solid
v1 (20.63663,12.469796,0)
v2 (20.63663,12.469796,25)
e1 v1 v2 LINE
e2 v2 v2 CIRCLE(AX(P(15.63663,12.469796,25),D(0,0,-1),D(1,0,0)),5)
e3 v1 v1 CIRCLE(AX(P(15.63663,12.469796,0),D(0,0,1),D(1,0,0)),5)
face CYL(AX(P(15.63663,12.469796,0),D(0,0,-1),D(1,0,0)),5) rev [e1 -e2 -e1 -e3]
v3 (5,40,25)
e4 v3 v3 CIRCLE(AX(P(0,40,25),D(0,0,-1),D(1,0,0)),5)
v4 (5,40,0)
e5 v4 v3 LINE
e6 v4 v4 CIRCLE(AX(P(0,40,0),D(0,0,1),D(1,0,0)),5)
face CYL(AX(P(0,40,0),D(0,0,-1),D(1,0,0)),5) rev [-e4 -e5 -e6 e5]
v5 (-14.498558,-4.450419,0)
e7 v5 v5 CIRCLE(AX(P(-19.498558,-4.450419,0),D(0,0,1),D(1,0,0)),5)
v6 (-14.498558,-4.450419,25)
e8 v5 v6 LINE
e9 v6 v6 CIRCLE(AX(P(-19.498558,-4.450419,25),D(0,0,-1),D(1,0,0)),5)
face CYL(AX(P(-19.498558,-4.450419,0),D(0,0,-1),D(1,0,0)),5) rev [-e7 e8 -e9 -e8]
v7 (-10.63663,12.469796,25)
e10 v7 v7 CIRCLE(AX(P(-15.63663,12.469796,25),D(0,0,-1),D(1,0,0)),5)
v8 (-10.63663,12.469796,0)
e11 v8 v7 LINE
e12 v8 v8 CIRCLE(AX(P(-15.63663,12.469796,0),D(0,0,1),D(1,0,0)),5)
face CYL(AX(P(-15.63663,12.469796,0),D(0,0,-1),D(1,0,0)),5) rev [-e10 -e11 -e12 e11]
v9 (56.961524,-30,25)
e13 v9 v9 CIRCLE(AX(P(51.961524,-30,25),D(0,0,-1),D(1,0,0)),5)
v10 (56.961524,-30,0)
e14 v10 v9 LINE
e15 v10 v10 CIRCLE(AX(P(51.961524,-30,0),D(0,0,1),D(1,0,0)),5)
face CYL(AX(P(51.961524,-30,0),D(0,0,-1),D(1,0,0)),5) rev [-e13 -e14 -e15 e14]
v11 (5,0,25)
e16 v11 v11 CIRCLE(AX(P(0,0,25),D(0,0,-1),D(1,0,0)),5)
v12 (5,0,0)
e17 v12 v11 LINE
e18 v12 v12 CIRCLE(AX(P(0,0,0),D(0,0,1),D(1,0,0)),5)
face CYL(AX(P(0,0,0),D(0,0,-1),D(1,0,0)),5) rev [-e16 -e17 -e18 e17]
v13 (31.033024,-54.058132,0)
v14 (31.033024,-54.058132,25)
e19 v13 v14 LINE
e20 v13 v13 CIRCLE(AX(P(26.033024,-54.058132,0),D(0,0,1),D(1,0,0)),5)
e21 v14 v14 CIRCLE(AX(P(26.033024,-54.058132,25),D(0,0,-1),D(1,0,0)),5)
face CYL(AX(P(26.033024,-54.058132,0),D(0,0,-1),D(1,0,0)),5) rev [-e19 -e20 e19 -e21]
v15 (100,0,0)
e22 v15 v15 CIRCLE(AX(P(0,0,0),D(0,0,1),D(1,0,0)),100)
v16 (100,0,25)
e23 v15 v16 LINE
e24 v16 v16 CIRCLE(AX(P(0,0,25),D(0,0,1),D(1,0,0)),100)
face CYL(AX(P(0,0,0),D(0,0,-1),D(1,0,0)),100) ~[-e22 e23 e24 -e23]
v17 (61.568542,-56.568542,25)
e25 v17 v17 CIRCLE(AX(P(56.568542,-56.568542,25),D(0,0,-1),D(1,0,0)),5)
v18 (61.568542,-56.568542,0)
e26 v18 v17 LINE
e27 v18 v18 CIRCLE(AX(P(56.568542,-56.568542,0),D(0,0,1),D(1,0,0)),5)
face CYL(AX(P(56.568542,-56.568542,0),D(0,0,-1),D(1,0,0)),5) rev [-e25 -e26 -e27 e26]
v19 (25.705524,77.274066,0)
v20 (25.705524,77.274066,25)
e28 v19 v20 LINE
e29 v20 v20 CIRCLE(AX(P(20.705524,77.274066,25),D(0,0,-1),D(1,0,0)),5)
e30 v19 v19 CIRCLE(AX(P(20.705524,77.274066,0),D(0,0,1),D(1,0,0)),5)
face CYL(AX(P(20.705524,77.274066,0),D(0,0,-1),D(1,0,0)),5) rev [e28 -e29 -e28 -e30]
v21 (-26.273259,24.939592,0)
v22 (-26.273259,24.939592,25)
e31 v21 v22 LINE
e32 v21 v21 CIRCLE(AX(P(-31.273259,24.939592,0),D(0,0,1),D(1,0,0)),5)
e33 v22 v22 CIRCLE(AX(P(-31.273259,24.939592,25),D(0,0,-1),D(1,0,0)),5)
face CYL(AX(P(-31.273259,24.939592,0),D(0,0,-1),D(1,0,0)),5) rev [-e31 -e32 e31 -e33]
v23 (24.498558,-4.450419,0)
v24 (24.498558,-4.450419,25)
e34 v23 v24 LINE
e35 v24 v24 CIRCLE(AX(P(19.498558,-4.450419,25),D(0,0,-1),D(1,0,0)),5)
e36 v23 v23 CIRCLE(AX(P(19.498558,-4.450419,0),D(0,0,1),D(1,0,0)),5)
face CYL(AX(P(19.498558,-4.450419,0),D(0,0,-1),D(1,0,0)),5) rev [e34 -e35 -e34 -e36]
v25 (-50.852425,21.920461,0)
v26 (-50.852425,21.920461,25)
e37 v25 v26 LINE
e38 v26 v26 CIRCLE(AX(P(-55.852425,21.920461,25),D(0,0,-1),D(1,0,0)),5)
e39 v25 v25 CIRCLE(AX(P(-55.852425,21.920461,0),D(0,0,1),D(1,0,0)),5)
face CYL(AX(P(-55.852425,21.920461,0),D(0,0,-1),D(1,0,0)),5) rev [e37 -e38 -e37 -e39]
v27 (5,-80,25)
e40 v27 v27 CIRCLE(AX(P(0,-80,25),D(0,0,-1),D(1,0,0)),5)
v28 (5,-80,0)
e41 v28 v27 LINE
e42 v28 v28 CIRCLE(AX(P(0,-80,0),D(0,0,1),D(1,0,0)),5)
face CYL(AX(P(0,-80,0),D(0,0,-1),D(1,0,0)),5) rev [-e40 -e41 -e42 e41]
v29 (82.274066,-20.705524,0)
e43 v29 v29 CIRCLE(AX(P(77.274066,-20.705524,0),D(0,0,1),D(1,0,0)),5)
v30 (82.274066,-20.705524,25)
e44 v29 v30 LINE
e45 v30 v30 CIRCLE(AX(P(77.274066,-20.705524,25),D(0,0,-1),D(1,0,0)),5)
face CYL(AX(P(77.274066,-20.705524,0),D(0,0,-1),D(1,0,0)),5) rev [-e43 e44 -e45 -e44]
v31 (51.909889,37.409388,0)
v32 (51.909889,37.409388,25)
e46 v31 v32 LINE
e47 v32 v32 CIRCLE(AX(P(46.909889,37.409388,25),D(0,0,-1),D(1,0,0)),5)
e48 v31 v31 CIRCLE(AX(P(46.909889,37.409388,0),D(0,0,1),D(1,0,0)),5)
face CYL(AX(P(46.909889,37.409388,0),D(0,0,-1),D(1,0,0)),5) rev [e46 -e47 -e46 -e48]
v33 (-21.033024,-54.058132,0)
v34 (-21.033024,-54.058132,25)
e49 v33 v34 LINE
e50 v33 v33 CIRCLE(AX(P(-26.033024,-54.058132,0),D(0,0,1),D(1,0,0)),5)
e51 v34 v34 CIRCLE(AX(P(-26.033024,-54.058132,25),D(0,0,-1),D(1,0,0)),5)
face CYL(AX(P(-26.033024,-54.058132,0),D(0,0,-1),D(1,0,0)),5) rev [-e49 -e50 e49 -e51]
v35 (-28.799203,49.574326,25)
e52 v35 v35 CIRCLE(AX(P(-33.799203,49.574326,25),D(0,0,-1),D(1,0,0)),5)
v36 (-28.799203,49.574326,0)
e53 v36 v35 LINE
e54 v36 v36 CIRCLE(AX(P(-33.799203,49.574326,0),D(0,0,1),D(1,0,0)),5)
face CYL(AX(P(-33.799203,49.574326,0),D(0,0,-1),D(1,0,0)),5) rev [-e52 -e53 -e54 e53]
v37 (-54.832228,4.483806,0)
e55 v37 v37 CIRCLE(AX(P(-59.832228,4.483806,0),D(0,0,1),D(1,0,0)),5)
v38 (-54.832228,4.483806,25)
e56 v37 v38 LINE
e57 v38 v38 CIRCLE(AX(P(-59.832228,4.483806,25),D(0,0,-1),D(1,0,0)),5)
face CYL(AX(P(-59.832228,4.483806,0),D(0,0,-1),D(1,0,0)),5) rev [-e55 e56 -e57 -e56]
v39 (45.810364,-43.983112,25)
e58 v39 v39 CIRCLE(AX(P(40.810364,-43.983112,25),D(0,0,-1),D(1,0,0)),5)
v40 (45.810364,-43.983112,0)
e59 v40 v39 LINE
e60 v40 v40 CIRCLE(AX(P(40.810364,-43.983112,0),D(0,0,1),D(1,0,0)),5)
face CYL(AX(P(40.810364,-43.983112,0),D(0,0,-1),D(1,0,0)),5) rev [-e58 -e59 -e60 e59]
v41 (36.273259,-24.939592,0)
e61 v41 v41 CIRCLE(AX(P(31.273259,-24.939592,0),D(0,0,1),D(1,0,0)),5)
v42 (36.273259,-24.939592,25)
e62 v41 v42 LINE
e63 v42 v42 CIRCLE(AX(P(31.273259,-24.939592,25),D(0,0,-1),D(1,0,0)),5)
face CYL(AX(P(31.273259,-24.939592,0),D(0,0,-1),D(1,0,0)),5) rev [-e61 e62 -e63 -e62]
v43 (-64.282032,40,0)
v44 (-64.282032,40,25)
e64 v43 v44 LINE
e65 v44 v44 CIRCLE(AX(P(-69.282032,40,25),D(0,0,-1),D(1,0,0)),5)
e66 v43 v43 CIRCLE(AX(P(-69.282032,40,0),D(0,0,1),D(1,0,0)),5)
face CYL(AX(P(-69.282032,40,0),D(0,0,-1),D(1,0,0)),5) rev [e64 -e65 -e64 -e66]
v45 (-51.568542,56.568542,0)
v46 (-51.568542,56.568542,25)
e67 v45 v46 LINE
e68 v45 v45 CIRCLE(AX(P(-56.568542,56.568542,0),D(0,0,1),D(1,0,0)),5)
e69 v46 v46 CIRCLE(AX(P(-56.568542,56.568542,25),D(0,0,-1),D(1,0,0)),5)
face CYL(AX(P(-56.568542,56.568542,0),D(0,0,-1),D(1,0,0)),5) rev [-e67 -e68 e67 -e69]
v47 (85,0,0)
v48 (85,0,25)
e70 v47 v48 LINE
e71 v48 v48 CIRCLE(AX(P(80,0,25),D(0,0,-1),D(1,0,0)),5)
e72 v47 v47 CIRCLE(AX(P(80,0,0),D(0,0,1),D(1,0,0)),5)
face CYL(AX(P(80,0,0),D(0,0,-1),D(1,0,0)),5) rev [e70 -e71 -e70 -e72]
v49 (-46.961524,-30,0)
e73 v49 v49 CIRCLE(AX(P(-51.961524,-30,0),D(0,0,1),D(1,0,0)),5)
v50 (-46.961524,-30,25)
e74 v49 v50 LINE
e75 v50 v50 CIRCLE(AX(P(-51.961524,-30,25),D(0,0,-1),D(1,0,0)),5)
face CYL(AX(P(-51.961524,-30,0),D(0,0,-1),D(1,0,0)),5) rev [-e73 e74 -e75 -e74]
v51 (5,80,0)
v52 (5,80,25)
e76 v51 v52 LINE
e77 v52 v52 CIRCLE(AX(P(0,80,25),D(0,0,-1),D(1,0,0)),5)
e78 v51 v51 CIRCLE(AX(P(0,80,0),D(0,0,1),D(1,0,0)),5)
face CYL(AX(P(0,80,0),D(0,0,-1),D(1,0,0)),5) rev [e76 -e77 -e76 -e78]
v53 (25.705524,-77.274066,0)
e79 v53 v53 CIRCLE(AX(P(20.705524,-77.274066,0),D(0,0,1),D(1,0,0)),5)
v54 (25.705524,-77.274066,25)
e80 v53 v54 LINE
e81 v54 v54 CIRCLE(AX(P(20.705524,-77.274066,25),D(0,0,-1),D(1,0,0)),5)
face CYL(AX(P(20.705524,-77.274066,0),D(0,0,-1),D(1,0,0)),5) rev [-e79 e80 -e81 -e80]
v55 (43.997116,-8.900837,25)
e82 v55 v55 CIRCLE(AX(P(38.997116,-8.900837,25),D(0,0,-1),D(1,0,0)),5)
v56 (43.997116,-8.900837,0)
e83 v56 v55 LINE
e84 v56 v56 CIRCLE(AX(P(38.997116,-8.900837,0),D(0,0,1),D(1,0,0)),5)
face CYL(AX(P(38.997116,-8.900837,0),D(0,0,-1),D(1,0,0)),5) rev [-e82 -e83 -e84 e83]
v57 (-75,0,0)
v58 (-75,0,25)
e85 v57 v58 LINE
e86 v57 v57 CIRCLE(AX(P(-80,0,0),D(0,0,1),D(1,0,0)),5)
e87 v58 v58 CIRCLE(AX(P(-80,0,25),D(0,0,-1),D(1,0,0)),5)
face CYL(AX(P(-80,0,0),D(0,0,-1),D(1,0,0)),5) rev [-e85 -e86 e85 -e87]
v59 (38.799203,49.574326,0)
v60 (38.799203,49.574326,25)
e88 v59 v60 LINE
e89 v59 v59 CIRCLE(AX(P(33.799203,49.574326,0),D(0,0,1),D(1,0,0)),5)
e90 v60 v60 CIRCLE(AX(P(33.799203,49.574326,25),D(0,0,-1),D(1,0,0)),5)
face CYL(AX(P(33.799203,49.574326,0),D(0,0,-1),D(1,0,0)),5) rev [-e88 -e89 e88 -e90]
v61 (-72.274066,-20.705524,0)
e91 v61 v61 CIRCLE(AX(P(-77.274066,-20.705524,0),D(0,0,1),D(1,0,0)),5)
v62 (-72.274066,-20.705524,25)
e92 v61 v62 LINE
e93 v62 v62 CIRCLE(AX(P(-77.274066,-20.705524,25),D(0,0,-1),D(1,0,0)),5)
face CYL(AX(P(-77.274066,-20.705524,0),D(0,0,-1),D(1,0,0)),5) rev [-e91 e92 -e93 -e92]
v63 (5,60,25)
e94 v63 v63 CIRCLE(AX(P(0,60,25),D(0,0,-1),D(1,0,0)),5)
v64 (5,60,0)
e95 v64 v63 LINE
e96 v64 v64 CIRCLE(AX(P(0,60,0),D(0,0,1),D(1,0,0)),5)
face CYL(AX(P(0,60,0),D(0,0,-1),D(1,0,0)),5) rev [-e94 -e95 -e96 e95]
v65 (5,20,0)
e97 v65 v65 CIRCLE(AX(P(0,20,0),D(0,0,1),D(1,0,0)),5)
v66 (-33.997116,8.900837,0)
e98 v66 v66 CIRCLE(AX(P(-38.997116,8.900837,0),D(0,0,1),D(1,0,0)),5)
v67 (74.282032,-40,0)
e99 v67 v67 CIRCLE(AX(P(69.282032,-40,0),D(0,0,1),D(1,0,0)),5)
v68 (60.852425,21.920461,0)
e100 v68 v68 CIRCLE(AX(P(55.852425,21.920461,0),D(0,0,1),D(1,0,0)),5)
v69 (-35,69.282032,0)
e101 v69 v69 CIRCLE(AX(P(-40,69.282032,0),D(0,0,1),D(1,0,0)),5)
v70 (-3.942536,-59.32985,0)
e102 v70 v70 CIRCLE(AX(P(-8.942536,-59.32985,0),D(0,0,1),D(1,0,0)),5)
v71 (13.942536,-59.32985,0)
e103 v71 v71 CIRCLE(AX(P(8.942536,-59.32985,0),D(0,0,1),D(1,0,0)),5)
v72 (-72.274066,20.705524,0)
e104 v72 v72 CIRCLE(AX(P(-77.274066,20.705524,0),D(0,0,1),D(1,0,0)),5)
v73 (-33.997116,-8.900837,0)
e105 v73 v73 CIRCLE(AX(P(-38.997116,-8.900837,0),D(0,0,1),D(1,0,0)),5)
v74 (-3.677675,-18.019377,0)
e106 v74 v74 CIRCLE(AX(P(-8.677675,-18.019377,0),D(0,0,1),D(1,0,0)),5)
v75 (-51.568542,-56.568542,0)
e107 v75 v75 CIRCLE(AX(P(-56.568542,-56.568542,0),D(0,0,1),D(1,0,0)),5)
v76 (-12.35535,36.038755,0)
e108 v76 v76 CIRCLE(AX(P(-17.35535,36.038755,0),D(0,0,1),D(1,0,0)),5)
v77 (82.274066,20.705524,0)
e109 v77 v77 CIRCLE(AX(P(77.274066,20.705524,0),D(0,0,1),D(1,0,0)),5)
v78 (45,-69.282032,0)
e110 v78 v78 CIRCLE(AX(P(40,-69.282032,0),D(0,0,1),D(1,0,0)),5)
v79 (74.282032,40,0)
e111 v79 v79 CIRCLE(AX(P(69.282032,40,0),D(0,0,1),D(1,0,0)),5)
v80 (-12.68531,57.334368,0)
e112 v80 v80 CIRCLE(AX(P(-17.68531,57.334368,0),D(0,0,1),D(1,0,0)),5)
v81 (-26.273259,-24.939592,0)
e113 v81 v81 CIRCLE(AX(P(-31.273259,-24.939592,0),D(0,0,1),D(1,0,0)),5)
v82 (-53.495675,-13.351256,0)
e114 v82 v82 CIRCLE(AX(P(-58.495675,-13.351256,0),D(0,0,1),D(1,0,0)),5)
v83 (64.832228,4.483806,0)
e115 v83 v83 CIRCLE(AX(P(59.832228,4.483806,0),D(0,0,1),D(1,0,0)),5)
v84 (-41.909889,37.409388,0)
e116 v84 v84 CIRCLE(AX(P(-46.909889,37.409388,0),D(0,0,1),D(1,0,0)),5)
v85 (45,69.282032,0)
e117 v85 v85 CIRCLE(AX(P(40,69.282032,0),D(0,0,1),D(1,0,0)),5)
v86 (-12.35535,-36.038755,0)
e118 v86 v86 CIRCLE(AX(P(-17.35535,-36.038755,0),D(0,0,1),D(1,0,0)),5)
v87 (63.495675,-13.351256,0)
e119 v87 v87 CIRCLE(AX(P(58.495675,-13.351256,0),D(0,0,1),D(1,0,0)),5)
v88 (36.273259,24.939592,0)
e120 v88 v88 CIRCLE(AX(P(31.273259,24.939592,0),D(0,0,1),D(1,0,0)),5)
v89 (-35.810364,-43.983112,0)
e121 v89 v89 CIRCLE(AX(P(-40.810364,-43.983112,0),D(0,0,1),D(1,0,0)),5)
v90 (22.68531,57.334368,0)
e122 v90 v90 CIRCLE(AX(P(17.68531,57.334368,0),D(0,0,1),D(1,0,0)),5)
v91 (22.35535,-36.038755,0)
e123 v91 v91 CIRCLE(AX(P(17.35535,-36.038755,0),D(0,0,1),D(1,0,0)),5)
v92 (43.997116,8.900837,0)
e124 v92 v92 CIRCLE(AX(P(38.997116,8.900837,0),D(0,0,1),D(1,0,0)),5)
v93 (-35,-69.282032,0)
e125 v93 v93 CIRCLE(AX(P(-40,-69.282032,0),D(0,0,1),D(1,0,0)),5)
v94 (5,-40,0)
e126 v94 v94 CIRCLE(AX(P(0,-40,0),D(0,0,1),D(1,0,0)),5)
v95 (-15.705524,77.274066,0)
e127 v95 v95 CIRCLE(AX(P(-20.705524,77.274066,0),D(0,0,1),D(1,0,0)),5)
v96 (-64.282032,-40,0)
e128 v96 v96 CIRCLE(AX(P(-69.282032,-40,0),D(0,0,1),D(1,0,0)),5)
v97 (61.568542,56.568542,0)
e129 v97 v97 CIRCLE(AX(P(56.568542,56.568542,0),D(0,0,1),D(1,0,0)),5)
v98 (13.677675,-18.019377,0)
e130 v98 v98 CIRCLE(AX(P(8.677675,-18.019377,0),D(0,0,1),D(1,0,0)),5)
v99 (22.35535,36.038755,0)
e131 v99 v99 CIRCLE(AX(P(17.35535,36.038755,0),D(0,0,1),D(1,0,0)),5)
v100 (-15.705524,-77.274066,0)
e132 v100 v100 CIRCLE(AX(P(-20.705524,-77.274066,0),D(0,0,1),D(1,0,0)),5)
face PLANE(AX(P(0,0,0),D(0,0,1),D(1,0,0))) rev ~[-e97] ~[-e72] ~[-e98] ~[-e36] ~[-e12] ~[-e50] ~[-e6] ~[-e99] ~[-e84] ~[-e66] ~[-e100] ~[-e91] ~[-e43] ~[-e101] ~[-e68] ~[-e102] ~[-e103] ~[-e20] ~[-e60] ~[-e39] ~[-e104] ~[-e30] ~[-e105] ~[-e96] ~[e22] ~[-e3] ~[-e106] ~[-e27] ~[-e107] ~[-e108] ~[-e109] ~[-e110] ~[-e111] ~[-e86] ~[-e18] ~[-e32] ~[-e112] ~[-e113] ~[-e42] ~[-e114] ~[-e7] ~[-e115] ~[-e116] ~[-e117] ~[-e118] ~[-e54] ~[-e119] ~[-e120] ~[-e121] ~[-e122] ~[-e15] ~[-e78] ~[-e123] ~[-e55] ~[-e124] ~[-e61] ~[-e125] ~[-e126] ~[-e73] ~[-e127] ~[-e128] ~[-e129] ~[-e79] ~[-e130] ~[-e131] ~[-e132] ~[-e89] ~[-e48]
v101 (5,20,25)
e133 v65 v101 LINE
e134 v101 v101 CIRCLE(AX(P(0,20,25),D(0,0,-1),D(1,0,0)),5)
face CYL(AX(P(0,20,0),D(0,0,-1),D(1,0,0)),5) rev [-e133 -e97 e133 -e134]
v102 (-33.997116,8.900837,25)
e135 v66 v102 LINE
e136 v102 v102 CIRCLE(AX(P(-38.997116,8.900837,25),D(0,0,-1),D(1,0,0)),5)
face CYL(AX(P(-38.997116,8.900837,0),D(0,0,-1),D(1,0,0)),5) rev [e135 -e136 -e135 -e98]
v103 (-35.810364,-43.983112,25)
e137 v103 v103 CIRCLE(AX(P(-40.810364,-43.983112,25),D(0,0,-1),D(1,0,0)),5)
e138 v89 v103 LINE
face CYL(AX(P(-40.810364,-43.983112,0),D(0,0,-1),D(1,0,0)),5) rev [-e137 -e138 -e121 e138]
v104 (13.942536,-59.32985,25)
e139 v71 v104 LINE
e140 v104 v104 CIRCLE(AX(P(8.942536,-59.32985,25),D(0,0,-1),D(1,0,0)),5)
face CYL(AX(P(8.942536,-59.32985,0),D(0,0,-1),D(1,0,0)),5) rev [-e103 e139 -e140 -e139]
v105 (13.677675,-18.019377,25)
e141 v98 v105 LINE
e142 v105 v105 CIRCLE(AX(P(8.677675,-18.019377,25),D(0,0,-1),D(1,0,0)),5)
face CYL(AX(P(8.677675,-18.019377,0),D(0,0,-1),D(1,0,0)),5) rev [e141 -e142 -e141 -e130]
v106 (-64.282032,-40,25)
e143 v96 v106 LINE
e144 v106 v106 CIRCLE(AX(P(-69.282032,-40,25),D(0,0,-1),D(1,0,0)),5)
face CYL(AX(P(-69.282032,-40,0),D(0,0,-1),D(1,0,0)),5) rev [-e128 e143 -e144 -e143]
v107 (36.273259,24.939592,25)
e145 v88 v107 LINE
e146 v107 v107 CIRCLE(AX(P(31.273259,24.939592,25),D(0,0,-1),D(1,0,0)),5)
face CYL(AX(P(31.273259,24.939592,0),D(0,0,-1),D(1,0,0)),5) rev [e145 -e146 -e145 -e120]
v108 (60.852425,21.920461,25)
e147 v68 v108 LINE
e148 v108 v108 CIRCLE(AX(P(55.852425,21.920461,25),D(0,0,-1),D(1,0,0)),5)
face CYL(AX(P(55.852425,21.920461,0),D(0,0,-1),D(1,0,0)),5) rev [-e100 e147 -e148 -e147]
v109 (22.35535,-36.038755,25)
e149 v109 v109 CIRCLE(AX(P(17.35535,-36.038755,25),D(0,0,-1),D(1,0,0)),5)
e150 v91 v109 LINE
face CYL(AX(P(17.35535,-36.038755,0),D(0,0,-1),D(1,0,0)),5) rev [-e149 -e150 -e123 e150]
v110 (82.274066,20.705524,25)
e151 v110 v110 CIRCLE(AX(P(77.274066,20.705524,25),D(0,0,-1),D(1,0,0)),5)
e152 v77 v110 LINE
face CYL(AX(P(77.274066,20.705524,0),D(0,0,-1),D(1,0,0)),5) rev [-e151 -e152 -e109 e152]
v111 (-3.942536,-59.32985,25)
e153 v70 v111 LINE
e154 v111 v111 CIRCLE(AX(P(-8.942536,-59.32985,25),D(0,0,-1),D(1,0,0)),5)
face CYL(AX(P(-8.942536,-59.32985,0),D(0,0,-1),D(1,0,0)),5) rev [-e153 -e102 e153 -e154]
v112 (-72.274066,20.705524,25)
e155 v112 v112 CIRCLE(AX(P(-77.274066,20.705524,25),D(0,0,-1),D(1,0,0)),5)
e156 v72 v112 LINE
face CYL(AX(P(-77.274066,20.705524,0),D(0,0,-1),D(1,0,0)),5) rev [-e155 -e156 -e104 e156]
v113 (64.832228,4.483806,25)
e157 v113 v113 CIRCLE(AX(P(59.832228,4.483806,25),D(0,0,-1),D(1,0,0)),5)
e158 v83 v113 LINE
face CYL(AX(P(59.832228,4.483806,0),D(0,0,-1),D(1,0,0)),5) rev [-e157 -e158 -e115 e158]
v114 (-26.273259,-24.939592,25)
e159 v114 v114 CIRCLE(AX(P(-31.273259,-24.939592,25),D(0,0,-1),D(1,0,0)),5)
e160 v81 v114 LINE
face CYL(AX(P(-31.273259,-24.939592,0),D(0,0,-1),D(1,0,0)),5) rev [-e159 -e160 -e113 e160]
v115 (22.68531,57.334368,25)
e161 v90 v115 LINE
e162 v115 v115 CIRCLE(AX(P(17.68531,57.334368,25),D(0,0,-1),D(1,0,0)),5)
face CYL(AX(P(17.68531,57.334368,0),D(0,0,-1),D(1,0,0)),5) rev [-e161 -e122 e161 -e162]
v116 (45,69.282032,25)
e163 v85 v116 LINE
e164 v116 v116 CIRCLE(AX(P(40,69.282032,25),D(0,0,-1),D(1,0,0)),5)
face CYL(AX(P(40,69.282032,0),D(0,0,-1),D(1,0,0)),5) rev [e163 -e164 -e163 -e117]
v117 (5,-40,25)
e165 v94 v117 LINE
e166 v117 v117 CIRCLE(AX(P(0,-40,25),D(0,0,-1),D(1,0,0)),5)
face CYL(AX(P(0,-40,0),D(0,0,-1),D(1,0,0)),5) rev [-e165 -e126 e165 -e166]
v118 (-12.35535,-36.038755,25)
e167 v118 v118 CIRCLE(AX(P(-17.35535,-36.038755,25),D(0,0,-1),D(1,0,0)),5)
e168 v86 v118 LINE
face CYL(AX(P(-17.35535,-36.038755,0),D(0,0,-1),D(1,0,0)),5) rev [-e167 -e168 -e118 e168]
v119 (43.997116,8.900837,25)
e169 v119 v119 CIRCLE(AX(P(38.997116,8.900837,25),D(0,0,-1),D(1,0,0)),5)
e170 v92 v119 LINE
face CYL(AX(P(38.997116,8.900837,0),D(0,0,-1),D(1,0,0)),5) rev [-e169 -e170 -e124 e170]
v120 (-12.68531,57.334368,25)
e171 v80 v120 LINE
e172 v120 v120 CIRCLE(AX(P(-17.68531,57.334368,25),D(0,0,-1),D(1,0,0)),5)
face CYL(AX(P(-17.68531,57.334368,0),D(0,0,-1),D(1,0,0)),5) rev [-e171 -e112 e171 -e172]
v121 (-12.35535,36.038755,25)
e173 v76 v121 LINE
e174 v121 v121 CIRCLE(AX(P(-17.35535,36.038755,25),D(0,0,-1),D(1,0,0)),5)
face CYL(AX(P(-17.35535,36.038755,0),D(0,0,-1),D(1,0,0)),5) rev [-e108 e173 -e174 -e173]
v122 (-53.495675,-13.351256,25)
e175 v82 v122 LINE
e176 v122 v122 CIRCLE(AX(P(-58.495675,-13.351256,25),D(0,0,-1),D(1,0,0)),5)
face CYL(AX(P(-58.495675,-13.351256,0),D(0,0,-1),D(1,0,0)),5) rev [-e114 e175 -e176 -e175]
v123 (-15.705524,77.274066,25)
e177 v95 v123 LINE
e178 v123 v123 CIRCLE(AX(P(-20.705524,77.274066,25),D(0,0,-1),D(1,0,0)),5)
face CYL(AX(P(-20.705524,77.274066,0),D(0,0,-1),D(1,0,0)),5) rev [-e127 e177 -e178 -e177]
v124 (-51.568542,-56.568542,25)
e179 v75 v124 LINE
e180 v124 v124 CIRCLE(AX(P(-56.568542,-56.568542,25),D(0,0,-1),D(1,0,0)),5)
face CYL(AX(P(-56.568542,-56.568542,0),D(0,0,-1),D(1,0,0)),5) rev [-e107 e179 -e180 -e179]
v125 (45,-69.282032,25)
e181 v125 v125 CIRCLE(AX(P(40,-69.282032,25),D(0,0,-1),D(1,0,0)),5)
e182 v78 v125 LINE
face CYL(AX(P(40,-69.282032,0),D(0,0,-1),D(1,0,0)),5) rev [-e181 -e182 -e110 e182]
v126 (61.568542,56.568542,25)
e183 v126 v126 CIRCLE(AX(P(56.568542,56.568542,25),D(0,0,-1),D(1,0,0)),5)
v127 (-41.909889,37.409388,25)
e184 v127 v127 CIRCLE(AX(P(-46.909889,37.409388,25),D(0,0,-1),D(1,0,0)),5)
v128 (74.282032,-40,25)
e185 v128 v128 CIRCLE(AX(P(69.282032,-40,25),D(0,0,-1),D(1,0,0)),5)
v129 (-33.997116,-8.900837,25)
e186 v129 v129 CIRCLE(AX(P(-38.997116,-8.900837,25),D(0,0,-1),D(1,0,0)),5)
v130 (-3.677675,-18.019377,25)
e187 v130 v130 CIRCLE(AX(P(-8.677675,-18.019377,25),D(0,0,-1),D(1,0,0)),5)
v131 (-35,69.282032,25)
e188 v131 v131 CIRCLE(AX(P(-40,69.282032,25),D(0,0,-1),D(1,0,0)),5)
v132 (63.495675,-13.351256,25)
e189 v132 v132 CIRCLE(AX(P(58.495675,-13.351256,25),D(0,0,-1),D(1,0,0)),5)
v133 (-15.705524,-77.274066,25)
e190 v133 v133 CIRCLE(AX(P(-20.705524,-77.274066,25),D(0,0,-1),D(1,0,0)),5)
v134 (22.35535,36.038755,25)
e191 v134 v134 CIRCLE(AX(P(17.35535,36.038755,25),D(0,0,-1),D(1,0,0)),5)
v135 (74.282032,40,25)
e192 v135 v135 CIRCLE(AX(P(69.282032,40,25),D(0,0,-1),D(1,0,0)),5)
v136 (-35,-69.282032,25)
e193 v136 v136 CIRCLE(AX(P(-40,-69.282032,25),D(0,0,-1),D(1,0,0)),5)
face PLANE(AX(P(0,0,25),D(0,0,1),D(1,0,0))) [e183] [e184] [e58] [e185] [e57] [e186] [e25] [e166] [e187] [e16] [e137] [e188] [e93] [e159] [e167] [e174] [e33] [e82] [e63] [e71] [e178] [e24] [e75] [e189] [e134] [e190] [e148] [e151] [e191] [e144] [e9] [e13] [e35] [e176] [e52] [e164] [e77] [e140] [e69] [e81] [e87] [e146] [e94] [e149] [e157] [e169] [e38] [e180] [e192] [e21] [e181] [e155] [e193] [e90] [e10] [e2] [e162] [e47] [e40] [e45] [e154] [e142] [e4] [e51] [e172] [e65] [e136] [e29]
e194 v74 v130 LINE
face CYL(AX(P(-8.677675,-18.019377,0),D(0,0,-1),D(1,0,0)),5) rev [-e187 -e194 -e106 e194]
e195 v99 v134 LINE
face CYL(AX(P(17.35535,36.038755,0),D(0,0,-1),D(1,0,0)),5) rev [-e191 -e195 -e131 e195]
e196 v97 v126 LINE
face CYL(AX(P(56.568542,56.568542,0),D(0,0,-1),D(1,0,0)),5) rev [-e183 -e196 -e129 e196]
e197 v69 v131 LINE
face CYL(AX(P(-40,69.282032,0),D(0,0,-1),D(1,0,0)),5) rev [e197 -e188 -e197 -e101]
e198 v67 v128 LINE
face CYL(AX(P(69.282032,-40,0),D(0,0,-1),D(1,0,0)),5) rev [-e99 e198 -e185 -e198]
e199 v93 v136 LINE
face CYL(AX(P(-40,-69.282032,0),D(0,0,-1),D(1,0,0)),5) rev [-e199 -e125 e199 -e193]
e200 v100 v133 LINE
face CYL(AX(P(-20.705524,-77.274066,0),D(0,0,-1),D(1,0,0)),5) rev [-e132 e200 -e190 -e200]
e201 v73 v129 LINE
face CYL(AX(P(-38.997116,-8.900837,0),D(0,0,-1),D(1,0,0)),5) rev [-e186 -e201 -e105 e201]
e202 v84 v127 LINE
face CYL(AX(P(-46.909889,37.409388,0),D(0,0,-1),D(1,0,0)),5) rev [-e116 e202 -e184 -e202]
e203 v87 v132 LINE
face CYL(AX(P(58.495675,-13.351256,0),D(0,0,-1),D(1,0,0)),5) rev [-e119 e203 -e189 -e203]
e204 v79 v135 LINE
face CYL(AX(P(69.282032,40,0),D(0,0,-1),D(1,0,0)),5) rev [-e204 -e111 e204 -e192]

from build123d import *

# Parameters (mm, degrees)
F1_R     = 100
F2_DEPTH = 25
F0_R     = 5
F3_DEPTH = 25.001


with BuildPart() as f2:
    # F1 (on Top) → F2 (new body)
    with BuildSketch(Plane.XY):
        Circle(F1_R)
    extrude(amount=F2_DEPTH)

    # F0 (on Top) → F3 (cut, through all)
    with BuildSketch(Plane.XY):
        Circle(F0_R)
        with Locations((0, 20)):
            Circle(F0_R)
        with Locations((0, 40)):
            Circle(F0_R)
        with Locations((0, 60)):
            Circle(F0_R)
        with Locations((0, 80)):
            Circle(F0_R)
        with Locations((-20.705524, 77.274066)):
            Circle(F0_R)
        with Locations((-40, 69.282032)):
            Circle(F0_R)
        with Locations((-56.568542, 56.568542)):
            Circle(F0_R)
        with Locations((-69.282032, 40)):
            Circle(F0_R)
        with Locations((-77.274066, 20.705524)):
            Circle(F0_R)
        with Locations((-80, 0)):
            Circle(F0_R)
        with Locations((-77.274066, -20.705524)):
            Circle(F0_R)
        with Locations((-69.282032, -40)):
            Circle(F0_R)
        with Locations((-56.568542, -56.568542)):
            Circle(F0_R)
        with Locations((-40, -69.282032)):
            Circle(F0_R)
        with Locations((-20.705524, -77.274066)):
            Circle(F0_R)
        with Locations((0, -80)):
            Circle(F0_R)
        with Locations((20.705524, -77.274066)):
            Circle(F0_R)
        with Locations((40, -69.282032)):
            Circle(F0_R)
        with Locations((56.568542, -56.568542)):
            Circle(F0_R)
        with Locations((69.282032, -40)):
            Circle(F0_R)
        with Locations((77.274066, -20.705524)):
            Circle(F0_R)
        with Locations((80, 0)):
            Circle(F0_R)
        with Locations((77.274066, 20.705524)):
            Circle(F0_R)
        with Locations((69.282032, 40)):
            Circle(F0_R)
        with Locations((56.568542, 56.568542)):
            Circle(F0_R)
        with Locations((40, 69.282032)):
            Circle(F0_R)
        with Locations((20.705524, 77.274066)):
            Circle(F0_R)
        with Locations((-17.68531, 57.334368)):
            Circle(F0_R)
        with Locations((-33.799203, 49.574326)):
            Circle(F0_R)
        with Locations((-46.909889, 37.409388)):
            Circle(F0_R)
        with Locations((-55.852425, 21.920461)):
            Circle(F0_R)
        with Locations((-59.832228, 4.483806)):
            Circle(F0_R)
        with Locations((-58.495675, -13.351256)):
            Circle(F0_R)
        with Locations((-51.961524, -30)):
            Circle(F0_R)
        with Locations((-40.810364, -43.983112)):
            Circle(F0_R)
        with Locations((-26.033024, -54.058132)):
            Circle(F0_R)
        with Locations((-8.942536, -59.32985)):
            Circle(F0_R)
        with Locations((8.942536, -59.32985)):
            Circle(F0_R)
        with Locations((26.033024, -54.058132)):
            Circle(F0_R)
        with Locations((40.810364, -43.983112)):
            Circle(F0_R)
        with Locations((51.961524, -30)):
            Circle(F0_R)
        with Locations((58.495675, -13.351256)):
            Circle(F0_R)
        with Locations((59.832228, 4.483806)):
            Circle(F0_R)
        with Locations((55.852425, 21.920461)):
            Circle(F0_R)
        with Locations((46.909889, 37.409388)):
            Circle(F0_R)
        with Locations((33.799203, 49.574326)):
            Circle(F0_R)
        with Locations((17.68531, 57.334368)):
            Circle(F0_R)
        with Locations((-15.63663, 12.469796)):
            Circle(F0_R)
        with Locations((-19.498558, -4.450419)):
            Circle(F0_R)
        with Locations((-8.677675, -18.019377)):
            Circle(F0_R)
        with Locations((8.677675, -18.019377)):
            Circle(F0_R)
        with Locations((19.498558, -4.450419)):
            Circle(F0_R)
        with Locations((15.63663, 12.469796)):
            Circle(F0_R)
        with Locations((-17.35535, 36.038755)):
            Circle(F0_R)
        with Locations((-31.273259, 24.939592)):
            Circle(F0_R)
        with Locations((-38.997116, 8.900837)):
            Circle(F0_R)
        with Locations((-38.997116, -8.900837)):
            Circle(F0_R)
        with Locations((-31.273259, -24.939592)):
            Circle(F0_R)
        with Locations((-17.35535, -36.038755)):
            Circle(F0_R)
        with Locations((0, -40)):
            Circle(F0_R)
        with Locations((17.35535, -36.038755)):
            Circle(F0_R)
        with Locations((31.273259, -24.939592)):
            Circle(F0_R)
        with Locations((38.997116, -8.900837)):
            Circle(F0_R)
        with Locations((38.997116, 8.900837)):
            Circle(F0_R)
        with Locations((31.273259, 24.939592)):
            Circle(F0_R)
        with Locations((17.35535, 36.038755)):
            Circle(F0_R)
    extrude(amount=F3_DEPTH, mode=Mode.SUBTRACT)


solid = f2.part
